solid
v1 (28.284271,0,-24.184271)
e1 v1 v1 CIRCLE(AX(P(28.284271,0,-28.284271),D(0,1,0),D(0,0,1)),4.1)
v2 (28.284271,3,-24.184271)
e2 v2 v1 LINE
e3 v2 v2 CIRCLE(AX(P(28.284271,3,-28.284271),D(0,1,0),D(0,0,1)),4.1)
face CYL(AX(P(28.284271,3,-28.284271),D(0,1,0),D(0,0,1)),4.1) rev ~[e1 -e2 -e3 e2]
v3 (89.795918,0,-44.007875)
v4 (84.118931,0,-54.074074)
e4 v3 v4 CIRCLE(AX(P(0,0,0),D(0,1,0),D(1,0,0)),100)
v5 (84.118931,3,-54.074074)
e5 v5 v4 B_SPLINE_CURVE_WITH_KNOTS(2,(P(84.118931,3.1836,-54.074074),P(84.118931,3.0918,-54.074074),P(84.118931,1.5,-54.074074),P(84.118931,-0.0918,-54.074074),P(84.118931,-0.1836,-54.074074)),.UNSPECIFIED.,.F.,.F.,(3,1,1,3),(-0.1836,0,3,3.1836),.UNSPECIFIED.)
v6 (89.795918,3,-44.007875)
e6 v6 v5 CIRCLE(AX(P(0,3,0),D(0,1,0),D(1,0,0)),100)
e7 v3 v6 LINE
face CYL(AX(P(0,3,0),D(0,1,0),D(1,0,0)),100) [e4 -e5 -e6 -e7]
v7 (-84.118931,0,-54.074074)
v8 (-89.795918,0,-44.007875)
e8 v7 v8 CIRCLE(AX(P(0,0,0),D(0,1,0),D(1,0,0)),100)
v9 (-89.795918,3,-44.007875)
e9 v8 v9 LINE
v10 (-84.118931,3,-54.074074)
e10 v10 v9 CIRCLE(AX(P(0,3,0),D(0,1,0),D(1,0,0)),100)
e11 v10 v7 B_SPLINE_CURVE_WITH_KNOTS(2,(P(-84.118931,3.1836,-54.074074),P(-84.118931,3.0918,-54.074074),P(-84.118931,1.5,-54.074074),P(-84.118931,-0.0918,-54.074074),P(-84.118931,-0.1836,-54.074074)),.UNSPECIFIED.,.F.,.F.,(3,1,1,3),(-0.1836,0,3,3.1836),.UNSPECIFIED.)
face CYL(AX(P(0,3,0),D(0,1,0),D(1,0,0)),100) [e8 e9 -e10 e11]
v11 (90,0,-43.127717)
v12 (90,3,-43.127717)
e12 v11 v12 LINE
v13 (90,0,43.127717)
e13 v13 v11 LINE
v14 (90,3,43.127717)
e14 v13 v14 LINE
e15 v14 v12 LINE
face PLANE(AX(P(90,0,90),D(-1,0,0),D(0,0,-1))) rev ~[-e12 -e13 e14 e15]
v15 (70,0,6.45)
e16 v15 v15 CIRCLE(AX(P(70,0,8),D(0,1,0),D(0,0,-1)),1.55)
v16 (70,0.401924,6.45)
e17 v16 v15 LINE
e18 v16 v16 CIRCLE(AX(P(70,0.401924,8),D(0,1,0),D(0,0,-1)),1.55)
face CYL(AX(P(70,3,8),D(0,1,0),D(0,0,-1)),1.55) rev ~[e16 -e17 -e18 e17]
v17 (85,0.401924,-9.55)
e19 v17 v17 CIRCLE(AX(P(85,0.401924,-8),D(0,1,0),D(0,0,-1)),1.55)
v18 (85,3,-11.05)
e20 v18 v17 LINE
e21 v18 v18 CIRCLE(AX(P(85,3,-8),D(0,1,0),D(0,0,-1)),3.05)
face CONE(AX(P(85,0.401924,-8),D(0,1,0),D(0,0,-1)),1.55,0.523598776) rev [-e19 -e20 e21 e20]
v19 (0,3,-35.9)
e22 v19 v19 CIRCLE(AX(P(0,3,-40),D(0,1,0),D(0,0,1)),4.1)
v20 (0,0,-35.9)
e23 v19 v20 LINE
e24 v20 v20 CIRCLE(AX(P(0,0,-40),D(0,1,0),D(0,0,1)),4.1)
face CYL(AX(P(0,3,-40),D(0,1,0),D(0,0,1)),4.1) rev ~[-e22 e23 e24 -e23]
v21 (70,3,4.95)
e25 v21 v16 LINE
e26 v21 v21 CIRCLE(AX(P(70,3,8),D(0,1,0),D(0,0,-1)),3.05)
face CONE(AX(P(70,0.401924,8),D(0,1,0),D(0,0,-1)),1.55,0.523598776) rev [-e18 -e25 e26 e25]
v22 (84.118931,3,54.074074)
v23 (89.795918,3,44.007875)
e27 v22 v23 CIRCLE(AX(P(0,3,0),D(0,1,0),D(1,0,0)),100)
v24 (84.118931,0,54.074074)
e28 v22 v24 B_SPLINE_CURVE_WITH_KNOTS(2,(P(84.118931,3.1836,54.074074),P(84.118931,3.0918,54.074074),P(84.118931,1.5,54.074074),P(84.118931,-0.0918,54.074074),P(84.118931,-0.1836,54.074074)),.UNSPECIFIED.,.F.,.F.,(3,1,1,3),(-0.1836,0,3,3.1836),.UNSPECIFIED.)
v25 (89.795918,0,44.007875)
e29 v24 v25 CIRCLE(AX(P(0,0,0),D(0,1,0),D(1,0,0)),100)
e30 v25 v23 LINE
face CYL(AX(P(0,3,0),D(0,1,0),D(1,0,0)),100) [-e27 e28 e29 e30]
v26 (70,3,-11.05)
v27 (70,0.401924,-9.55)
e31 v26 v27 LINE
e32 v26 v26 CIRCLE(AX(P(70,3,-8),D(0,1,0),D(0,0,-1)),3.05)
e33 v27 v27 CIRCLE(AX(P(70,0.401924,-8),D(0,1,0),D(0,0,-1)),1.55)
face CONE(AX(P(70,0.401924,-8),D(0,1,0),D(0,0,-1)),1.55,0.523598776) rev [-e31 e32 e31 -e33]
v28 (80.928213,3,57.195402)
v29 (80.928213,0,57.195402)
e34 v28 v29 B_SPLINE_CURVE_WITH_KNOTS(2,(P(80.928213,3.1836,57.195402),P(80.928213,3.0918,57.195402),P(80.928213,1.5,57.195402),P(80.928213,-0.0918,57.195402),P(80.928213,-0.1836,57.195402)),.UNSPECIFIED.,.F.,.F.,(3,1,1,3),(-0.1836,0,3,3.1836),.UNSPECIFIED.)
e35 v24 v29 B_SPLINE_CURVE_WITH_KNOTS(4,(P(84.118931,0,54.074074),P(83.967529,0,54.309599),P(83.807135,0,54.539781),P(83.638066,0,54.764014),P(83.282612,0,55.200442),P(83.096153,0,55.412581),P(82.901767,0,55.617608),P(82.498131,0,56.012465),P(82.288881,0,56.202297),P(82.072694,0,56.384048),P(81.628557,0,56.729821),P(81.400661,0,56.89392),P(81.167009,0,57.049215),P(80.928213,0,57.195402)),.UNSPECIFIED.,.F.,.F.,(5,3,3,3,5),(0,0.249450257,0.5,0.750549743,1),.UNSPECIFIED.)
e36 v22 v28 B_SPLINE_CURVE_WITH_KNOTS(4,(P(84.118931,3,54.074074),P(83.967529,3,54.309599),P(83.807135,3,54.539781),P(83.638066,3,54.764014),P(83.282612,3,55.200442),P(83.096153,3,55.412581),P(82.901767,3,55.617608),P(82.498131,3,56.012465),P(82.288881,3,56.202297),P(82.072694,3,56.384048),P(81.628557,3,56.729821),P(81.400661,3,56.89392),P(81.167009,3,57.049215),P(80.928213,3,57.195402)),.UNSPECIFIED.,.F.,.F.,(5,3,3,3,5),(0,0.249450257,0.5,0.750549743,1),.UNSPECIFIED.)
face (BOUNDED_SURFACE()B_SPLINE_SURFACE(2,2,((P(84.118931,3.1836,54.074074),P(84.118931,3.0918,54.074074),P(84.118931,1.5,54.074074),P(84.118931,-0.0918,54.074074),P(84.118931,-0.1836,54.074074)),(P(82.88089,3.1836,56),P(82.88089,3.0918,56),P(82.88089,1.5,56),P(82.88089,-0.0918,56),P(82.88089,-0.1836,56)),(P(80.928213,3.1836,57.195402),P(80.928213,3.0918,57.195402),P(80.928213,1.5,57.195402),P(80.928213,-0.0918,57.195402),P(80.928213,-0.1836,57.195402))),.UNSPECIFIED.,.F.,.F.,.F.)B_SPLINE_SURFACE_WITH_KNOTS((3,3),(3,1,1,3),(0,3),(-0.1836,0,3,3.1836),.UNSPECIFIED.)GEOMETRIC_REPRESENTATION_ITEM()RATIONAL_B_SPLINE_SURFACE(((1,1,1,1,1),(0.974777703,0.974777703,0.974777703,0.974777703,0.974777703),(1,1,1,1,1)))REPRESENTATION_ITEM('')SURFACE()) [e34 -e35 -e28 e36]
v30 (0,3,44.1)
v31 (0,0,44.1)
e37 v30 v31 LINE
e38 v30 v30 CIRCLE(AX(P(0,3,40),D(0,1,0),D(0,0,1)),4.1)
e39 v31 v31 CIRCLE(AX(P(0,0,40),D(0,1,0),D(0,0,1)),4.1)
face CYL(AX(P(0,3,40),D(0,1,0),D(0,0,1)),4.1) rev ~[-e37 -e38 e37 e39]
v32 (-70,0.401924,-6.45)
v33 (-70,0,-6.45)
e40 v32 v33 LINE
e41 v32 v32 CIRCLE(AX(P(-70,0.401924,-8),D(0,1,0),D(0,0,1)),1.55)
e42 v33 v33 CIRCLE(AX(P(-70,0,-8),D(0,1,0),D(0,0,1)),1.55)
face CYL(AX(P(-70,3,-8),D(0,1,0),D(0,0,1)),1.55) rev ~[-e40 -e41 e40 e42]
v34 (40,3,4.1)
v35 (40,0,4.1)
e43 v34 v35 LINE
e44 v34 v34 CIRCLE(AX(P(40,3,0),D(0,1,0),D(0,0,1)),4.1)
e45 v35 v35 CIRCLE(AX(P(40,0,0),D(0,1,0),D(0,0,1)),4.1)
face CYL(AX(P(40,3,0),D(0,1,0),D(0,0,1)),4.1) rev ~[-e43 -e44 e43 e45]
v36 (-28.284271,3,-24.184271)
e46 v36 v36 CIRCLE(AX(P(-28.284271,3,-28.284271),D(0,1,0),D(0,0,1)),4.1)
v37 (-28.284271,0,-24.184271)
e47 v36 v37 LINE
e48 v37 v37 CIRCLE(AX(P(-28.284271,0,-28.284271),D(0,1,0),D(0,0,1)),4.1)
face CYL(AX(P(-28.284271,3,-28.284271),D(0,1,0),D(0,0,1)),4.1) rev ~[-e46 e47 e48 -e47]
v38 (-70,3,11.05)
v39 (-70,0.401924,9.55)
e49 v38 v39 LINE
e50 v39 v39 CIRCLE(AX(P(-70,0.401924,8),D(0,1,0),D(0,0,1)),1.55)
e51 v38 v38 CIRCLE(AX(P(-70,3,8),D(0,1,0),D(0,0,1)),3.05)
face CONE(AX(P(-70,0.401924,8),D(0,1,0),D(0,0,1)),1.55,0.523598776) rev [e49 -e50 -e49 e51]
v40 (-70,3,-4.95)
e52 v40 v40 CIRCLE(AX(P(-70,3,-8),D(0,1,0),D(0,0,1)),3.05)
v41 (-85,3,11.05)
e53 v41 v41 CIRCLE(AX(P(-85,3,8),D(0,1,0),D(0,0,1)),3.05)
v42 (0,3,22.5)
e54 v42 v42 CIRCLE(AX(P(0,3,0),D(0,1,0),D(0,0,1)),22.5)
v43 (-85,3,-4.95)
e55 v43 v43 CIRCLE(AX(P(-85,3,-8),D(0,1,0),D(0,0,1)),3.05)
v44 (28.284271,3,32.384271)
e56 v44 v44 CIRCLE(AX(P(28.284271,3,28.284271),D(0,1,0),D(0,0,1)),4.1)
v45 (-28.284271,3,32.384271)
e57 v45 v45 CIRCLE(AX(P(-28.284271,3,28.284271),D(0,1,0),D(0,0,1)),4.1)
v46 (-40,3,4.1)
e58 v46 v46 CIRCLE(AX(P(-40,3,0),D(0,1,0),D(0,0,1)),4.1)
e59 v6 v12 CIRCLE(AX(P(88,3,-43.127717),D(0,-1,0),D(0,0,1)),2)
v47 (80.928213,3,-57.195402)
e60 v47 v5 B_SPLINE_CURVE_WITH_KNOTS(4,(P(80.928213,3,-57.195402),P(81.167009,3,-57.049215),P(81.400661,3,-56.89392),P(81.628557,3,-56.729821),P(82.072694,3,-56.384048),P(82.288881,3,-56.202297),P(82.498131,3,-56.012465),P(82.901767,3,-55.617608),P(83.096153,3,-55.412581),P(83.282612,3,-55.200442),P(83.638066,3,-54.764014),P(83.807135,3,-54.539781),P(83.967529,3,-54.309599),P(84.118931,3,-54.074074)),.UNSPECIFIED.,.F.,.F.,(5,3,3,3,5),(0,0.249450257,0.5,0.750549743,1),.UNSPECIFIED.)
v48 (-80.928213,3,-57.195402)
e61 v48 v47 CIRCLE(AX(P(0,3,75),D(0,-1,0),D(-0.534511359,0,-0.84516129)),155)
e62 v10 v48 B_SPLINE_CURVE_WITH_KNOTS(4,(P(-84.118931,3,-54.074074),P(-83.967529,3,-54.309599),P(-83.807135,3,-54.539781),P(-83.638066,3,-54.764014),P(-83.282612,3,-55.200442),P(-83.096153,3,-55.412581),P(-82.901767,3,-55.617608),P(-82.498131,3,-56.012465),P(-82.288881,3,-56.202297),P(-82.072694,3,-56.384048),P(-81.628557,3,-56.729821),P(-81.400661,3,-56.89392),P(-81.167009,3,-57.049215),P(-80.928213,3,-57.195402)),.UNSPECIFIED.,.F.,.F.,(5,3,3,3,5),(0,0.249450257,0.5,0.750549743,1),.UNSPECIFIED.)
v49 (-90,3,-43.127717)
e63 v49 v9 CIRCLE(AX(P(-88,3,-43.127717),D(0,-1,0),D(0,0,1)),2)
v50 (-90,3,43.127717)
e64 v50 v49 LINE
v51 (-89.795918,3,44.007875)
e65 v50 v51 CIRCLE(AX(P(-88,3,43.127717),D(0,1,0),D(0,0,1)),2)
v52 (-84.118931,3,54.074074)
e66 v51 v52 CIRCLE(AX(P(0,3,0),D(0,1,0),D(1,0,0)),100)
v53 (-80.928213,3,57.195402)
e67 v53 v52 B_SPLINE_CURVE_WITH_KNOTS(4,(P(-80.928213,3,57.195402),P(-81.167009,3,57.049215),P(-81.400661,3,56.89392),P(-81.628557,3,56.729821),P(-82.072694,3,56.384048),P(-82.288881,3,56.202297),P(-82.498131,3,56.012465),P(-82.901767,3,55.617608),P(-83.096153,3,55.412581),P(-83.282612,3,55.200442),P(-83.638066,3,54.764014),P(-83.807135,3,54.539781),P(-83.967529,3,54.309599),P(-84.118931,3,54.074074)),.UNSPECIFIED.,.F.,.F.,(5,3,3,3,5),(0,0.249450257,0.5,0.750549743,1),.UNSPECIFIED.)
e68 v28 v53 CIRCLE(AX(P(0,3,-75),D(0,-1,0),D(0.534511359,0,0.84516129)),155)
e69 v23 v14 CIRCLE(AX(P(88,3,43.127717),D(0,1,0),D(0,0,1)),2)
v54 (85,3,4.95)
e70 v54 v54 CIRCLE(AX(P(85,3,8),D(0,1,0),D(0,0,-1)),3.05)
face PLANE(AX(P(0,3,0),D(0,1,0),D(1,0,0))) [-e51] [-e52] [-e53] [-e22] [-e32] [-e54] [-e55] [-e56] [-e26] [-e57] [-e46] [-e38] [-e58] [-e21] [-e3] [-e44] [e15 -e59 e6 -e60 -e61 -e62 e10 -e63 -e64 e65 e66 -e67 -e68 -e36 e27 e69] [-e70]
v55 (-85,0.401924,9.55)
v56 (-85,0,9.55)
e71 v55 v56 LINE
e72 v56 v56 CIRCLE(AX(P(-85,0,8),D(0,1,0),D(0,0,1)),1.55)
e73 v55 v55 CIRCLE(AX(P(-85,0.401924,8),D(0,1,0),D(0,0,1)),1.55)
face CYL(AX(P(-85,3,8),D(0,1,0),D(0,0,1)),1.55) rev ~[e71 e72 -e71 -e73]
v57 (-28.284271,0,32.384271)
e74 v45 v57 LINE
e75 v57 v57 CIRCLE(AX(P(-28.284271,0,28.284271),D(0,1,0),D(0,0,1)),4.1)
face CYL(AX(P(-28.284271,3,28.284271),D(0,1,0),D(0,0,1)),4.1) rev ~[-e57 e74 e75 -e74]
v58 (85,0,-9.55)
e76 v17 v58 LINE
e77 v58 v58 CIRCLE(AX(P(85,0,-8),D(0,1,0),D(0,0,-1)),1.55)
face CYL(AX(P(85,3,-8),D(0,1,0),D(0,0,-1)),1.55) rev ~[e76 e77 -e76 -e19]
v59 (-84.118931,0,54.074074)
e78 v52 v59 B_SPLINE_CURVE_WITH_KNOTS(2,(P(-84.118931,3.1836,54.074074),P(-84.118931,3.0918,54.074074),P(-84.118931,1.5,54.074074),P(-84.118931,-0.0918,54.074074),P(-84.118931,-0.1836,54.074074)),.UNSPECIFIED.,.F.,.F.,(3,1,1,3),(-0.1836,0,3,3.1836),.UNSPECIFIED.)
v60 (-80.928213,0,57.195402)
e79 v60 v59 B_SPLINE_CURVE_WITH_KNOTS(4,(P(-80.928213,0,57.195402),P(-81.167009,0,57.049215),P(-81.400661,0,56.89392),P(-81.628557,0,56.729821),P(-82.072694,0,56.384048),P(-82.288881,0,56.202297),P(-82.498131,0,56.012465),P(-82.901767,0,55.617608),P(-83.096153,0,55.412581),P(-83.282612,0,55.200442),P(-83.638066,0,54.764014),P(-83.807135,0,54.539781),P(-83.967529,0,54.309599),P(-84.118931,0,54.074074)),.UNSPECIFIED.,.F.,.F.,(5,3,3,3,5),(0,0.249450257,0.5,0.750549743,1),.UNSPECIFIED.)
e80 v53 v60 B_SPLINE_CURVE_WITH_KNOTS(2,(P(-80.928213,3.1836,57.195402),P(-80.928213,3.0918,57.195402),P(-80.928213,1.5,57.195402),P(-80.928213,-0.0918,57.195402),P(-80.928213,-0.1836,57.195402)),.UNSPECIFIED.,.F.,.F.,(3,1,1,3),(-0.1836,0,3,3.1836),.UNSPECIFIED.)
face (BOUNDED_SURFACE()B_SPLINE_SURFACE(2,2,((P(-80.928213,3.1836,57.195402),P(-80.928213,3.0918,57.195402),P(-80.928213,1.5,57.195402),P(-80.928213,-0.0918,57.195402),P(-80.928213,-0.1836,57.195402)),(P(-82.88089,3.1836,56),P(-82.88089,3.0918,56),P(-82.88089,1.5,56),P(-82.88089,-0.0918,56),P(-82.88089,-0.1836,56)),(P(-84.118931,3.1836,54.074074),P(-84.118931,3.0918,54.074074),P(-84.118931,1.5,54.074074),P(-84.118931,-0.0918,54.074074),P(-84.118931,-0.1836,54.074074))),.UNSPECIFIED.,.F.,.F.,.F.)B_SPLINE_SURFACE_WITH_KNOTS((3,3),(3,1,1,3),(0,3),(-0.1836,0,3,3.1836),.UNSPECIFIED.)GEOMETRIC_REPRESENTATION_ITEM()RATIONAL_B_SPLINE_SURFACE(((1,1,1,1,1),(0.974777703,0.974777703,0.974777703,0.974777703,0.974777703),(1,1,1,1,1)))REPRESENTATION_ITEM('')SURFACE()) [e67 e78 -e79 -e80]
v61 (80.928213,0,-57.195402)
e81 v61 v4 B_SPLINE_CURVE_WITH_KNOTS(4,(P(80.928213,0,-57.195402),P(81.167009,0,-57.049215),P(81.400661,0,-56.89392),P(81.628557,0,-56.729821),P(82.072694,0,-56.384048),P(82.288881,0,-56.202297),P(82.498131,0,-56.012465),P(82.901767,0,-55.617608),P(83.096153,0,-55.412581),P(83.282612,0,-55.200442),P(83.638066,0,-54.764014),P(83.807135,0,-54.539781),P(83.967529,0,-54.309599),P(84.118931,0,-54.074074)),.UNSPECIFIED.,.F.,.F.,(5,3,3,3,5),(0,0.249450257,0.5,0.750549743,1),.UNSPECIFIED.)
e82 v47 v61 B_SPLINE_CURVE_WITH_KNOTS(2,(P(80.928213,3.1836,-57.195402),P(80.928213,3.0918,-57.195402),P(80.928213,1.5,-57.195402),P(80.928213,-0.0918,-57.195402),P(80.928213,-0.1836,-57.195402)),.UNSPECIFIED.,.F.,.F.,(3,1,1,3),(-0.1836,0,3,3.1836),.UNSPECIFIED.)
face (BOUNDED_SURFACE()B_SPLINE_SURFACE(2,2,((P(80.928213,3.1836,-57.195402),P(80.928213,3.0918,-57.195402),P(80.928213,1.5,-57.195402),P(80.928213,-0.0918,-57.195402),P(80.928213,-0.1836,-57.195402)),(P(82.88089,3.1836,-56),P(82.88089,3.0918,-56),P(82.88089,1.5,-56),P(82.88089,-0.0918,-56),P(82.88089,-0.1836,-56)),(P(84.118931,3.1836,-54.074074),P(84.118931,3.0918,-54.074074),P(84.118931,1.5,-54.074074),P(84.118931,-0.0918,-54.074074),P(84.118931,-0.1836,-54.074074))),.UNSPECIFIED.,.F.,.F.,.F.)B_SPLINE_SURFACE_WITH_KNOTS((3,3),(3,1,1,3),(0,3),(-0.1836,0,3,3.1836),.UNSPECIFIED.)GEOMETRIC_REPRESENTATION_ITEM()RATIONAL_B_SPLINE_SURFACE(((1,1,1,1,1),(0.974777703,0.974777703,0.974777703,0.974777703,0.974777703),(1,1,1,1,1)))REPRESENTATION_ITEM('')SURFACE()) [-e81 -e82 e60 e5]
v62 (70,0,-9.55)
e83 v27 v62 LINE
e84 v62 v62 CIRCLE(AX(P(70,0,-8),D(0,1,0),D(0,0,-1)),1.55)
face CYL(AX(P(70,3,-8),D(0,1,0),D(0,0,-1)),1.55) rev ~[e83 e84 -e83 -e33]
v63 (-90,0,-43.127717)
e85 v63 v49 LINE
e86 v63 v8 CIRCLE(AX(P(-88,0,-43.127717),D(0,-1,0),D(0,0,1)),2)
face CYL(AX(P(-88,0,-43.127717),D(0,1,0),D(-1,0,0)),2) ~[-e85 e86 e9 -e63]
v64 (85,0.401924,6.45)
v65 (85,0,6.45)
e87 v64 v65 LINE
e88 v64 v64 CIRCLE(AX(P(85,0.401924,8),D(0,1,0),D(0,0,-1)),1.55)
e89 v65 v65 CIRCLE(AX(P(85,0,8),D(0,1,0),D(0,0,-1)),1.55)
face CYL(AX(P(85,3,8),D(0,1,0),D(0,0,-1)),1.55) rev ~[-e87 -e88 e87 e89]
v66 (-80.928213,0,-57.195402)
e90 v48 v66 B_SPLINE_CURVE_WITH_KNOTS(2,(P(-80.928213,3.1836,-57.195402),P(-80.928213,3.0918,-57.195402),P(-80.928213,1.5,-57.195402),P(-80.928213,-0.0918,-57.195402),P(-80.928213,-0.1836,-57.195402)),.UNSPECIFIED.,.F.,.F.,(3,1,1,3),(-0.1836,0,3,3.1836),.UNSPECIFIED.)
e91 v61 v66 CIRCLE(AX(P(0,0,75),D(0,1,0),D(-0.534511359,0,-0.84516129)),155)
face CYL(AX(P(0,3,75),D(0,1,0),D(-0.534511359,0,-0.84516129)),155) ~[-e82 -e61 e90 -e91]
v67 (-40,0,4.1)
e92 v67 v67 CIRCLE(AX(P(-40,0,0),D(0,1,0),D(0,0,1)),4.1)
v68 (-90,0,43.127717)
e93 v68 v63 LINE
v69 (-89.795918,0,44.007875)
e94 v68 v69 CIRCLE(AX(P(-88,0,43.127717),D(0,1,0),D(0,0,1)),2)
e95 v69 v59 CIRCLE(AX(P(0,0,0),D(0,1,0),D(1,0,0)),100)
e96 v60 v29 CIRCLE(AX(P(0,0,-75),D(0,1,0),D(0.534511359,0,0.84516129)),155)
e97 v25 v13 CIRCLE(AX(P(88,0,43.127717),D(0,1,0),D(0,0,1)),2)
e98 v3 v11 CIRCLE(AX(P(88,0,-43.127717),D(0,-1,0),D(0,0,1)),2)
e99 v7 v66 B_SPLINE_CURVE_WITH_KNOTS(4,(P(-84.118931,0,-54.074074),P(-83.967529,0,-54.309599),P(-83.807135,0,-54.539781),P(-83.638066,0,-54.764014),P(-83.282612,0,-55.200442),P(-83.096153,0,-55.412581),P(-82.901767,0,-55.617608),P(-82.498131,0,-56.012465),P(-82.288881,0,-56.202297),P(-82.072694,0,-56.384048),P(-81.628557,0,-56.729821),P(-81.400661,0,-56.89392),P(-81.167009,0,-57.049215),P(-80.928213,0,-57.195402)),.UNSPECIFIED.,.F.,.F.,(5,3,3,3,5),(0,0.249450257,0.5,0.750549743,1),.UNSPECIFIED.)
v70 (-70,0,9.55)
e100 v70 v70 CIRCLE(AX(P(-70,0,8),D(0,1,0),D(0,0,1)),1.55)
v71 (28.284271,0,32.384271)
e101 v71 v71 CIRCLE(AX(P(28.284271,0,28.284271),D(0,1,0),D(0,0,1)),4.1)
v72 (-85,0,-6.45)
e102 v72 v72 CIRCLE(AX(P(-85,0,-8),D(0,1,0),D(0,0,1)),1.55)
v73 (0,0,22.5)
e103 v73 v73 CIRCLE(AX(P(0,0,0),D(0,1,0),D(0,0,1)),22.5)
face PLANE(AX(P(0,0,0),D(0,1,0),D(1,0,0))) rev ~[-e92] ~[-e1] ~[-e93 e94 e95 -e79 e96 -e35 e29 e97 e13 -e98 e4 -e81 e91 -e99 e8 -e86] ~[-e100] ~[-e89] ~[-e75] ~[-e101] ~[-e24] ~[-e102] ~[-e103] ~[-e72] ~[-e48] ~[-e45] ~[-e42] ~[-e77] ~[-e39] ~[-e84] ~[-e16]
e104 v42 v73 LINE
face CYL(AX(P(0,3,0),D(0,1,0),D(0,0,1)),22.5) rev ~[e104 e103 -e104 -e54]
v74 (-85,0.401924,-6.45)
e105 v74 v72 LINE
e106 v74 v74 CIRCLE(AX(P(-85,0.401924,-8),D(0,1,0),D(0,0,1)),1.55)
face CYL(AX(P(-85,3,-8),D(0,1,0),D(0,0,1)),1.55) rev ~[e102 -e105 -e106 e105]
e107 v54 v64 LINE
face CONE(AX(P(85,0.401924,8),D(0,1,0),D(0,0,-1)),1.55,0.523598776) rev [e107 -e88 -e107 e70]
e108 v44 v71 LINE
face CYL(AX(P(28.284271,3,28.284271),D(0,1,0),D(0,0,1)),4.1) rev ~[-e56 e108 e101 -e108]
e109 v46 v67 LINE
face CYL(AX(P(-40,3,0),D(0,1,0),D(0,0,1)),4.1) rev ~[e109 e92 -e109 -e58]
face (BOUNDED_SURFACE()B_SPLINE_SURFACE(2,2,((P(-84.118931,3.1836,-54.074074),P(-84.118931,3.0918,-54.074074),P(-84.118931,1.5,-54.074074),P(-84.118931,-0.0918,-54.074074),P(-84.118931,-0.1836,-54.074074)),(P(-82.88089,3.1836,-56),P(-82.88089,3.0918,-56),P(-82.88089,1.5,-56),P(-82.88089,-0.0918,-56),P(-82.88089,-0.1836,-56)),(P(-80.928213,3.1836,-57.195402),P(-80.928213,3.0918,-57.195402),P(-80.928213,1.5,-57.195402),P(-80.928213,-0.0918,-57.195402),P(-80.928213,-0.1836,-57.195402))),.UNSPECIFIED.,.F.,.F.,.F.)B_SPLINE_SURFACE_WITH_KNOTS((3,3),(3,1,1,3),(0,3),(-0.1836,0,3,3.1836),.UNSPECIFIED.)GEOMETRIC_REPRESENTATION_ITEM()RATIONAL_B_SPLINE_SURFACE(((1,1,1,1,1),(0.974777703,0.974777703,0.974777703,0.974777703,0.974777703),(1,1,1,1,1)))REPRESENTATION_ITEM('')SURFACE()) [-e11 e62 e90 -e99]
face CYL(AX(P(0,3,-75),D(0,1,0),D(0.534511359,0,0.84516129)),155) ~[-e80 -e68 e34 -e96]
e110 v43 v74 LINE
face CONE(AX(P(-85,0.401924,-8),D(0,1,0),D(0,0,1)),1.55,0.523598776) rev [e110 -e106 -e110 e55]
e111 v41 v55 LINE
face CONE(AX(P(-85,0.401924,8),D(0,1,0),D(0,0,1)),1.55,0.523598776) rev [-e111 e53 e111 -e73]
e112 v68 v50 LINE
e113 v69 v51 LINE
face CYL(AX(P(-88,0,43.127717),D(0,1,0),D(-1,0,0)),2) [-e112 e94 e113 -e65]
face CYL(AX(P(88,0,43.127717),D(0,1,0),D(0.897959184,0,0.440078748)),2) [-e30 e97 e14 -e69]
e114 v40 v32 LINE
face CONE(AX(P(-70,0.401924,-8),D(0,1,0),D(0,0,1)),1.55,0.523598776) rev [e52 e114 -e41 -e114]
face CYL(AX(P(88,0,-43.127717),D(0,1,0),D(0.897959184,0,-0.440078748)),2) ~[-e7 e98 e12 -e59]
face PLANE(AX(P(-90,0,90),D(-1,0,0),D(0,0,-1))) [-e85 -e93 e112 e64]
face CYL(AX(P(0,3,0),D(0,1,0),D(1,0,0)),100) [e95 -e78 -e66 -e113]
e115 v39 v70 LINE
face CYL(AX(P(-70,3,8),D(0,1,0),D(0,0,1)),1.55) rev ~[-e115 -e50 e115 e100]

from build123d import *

# Parameters (mm, degrees)
SKETCH_2_W          = 180
SKETCH_2_H          = 180
EXTRUDE_1_DEPTH     = 3
SKETCH_3_R          = 4.1
CUT_EXTRUDE_1_DEPTH = 3
SKETCH_4_OUTSIDE_W  = 232.916
SKETCH_4_OUTSIDE_H  = 232.916
SKETCH_4_OUTSIDE_R  = 100
CUT_EXTRUDE_2_DEPTH = 3
SKETCH_5_R          = 1.55
CUT_EXTRUDE_3_DEPTH = 3
FILLET_1_R          = 2
SKETCH_7_R          = 22.5
CUT_EXTRUDE_4_DEPTH = 10
CUT_EXTRUDE_5_DEPTH = 10
FILLET_2_R          = 10
CHAMFER_1_SIZE      = 1.5
CHAMFER_1_SIZE2     = 2.598076211


with BuildPart() as part:
    # 草图2 → 凸台-拉伸1 (new body)
    with BuildSketch(Plane(origin=(0, 0, 0), x_dir=(1, 0, 0), z_dir=(0, 1, 0))):
        Rectangle(SKETCH_2_W, SKETCH_2_H)
    extrude(amount=EXTRUDE_1_DEPTH)

    # 草图3 → 切除-拉伸1 (cut)
    with BuildSketch(Plane(origin=(0, 3, 0), x_dir=(1, 0, 0), z_dir=(0, 1, 0))):
        with Locations(Location((0, 40, 0), (0, 0, 270))):
            Circle(SKETCH_3_R)
        with Locations(Location((28.284271247, 28.284271247, 0), (0, 0, 270))):
            Circle(SKETCH_3_R)
        with Locations(Location((40, 0, 0), (0, 0, 270))):
            Circle(SKETCH_3_R)
        with Locations(Location((28.284271247, -28.284271247, 0), (0, 0, 270))):
            Circle(SKETCH_3_R)
        with Locations(Location((0, -40, 0), (0, 0, 270))):
            Circle(SKETCH_3_R)
        with Locations(Location((-28.284271247, -28.284271247, 0), (0, 0, 270))):
            Circle(SKETCH_3_R)
        with Locations(Location((-40, 0, 0), (0, 0, 270))):
            Circle(SKETCH_3_R)
        with Locations(Location((-28.284271247, 28.284271247, 0), (0, 0, 270))):
            Circle(SKETCH_3_R)
    extrude(amount=-CUT_EXTRUDE_1_DEPTH, mode=Mode.SUBTRACT)

    # 草图4 outside → 切除-拉伸2 (cut)
    with BuildSketch(Plane(origin=(0, 3, 0), x_dir=(1, 0, 0), z_dir=(0, 1, 0))):
        Rectangle(SKETCH_4_OUTSIDE_W, SKETCH_4_OUTSIDE_H)
        Circle(SKETCH_4_OUTSIDE_R, mode=Mode.SUBTRACT)
    extrude(amount=-CUT_EXTRUDE_2_DEPTH, mode=Mode.SUBTRACT)

    # 草图5 → 切除-拉伸3 (cut)
    with BuildSketch(Plane(origin=(0, 3, 0), x_dir=(1, 0, 0), z_dir=(0, 1, 0))):
        with Locations(Location((-85, 8, 0), (0, 0, 270))):
            Circle(SKETCH_5_R)
        with Locations(Location((-70, 8, 0), (0, 0, 270))):
            Circle(SKETCH_5_R)
        with Locations(Location((-85, -8, 0), (0, 0, 270))):
            Circle(SKETCH_5_R)
        with Locations(Location((-70, -8, 0), (0, 0, 270))):
            Circle(SKETCH_5_R)
        with Locations(Location((70, -8, 0), (0, 0, 90))):
            Circle(SKETCH_5_R)
        with Locations(Location((85, -8, 0), (0, 0, 90))):
            Circle(SKETCH_5_R)
        with Locations(Location((70, 8, 0), (0, 0, 90))):
            Circle(SKETCH_5_R)
        with Locations(Location((85, 8, 0), (0, 0, 90))):
            Circle(SKETCH_5_R)
    extrude(amount=-CUT_EXTRUDE_3_DEPTH, mode=Mode.SUBTRACT)

    # 圆角1
    fillet_1_edges = [part.edges().sort_by_distance(p)[0] for p in [
        (-90, 1.5, -43.588989435),
        (-90, 1.5, 43.588989435),
        (-43.588989435, 1.5, 90),
        (43.588989435, 1.5, 90),
        (90, 1.5, 43.588989435),
        (90, 1.5, -43.588989435),
        (43.588989435, 1.5, -90),
        (-43.588989435, 1.5, -90),
    ]]
    fillet(fillet_1_edges, radius=FILLET_1_R)

    # 草图7 → 切除-拉伸4 (cut)
    with BuildSketch(Plane(origin=(0, 3, 0), x_dir=(1, 0, 0), z_dir=(0, 1, 0))):
        with Locations(Location((0, 0, 0), (0, 0, 270))):
            Circle(SKETCH_7_R)
    extrude(amount=-CUT_EXTRUDE_4_DEPTH, mode=Mode.SUBTRACT)

    # 草图8 → 切除-拉伸5 (cut)
    with BuildSketch(Plane(origin=(0, 3, 0), x_dir=(1, 0, 0), z_dir=(0, 1, 0))):
        with BuildLine():
            ThreePointArc((44.007874802, 89.795918367), (43.579471257, 89.948311671), (43.127717306, 90))
            Line((43.127717306, 90), (-43.127717306, 90))
            ThreePointArc((-43.127717306, 90), (-43.579471257, 89.948311671), (-44.007874802, 89.795918367))
            ThreePointArc((-44.007874802, 89.795918367), (-65.640873182, 75.440544589), (-82.849260709, 56))
            ThreePointArc((-82.849260709, 56), (0, 80), (82.849260709, 56))
            ThreePointArc((82.849260709, 56), (65.640873182, 75.440544589), (44.007874802, 89.795918367))
        make_face()
        with BuildLine():
            ThreePointArc((-44.007874802, -89.795918367), (-43.579471257, -89.948311671), (-43.127717306, -90))
            Line((-43.127717306, -90), (43.127717306, -90))
            ThreePointArc((43.127717306, -90), (43.579471257, -89.948311671), (44.007874802, -89.795918367))
            ThreePointArc((44.007874802, -89.795918367), (65.640873182, -75.440544589), (82.849260709, -56))
            ThreePointArc((82.849260709, -56), (0, -80), (-82.849260709, -56))
            ThreePointArc((-82.849260709, -56), (-65.640873182, -75.440544589), (-44.007874802, -89.795918367))
        make_face()
    extrude(amount=-CUT_EXTRUDE_5_DEPTH, mode=Mode.SUBTRACT)

    # 圆角2
    fillet_2_edges = [part.edges().sort_by_distance(p)[0] for p in [
        (82.849260709, 1.5, -56),
        (-82.849260709, 1.5, -56),
        (-82.849260709, 1.5, 56),
        (82.849260709, 1.5, 56),
    ]]
    fillet(fillet_2_edges, radius=FILLET_2_R)

    # 倒角1
    chamfer_1_edges = [part.edges().sort_by_distance(p)[0] for p in [
        (70, 3, 9.55),
        (-70, 3, 6.45),
        (-85, 3, 6.45),
        (-70, 3, -9.55),
        (85, 3, -6.45),
        (70, 3, -6.45),
        (85, 3, 9.55),
        (-85, 3, -9.55),
    ]]
    chamfer_1_side = [part.faces().sort_by_distance(p)[0] for p in [
        (-85.005243711, 3, -47.940012077),
    ]]
    chamfer(chamfer_1_edges, length=CHAMFER_1_SIZE, length2=CHAMFER_1_SIZE2, reference=chamfer_1_side[0])


solid = part.part
